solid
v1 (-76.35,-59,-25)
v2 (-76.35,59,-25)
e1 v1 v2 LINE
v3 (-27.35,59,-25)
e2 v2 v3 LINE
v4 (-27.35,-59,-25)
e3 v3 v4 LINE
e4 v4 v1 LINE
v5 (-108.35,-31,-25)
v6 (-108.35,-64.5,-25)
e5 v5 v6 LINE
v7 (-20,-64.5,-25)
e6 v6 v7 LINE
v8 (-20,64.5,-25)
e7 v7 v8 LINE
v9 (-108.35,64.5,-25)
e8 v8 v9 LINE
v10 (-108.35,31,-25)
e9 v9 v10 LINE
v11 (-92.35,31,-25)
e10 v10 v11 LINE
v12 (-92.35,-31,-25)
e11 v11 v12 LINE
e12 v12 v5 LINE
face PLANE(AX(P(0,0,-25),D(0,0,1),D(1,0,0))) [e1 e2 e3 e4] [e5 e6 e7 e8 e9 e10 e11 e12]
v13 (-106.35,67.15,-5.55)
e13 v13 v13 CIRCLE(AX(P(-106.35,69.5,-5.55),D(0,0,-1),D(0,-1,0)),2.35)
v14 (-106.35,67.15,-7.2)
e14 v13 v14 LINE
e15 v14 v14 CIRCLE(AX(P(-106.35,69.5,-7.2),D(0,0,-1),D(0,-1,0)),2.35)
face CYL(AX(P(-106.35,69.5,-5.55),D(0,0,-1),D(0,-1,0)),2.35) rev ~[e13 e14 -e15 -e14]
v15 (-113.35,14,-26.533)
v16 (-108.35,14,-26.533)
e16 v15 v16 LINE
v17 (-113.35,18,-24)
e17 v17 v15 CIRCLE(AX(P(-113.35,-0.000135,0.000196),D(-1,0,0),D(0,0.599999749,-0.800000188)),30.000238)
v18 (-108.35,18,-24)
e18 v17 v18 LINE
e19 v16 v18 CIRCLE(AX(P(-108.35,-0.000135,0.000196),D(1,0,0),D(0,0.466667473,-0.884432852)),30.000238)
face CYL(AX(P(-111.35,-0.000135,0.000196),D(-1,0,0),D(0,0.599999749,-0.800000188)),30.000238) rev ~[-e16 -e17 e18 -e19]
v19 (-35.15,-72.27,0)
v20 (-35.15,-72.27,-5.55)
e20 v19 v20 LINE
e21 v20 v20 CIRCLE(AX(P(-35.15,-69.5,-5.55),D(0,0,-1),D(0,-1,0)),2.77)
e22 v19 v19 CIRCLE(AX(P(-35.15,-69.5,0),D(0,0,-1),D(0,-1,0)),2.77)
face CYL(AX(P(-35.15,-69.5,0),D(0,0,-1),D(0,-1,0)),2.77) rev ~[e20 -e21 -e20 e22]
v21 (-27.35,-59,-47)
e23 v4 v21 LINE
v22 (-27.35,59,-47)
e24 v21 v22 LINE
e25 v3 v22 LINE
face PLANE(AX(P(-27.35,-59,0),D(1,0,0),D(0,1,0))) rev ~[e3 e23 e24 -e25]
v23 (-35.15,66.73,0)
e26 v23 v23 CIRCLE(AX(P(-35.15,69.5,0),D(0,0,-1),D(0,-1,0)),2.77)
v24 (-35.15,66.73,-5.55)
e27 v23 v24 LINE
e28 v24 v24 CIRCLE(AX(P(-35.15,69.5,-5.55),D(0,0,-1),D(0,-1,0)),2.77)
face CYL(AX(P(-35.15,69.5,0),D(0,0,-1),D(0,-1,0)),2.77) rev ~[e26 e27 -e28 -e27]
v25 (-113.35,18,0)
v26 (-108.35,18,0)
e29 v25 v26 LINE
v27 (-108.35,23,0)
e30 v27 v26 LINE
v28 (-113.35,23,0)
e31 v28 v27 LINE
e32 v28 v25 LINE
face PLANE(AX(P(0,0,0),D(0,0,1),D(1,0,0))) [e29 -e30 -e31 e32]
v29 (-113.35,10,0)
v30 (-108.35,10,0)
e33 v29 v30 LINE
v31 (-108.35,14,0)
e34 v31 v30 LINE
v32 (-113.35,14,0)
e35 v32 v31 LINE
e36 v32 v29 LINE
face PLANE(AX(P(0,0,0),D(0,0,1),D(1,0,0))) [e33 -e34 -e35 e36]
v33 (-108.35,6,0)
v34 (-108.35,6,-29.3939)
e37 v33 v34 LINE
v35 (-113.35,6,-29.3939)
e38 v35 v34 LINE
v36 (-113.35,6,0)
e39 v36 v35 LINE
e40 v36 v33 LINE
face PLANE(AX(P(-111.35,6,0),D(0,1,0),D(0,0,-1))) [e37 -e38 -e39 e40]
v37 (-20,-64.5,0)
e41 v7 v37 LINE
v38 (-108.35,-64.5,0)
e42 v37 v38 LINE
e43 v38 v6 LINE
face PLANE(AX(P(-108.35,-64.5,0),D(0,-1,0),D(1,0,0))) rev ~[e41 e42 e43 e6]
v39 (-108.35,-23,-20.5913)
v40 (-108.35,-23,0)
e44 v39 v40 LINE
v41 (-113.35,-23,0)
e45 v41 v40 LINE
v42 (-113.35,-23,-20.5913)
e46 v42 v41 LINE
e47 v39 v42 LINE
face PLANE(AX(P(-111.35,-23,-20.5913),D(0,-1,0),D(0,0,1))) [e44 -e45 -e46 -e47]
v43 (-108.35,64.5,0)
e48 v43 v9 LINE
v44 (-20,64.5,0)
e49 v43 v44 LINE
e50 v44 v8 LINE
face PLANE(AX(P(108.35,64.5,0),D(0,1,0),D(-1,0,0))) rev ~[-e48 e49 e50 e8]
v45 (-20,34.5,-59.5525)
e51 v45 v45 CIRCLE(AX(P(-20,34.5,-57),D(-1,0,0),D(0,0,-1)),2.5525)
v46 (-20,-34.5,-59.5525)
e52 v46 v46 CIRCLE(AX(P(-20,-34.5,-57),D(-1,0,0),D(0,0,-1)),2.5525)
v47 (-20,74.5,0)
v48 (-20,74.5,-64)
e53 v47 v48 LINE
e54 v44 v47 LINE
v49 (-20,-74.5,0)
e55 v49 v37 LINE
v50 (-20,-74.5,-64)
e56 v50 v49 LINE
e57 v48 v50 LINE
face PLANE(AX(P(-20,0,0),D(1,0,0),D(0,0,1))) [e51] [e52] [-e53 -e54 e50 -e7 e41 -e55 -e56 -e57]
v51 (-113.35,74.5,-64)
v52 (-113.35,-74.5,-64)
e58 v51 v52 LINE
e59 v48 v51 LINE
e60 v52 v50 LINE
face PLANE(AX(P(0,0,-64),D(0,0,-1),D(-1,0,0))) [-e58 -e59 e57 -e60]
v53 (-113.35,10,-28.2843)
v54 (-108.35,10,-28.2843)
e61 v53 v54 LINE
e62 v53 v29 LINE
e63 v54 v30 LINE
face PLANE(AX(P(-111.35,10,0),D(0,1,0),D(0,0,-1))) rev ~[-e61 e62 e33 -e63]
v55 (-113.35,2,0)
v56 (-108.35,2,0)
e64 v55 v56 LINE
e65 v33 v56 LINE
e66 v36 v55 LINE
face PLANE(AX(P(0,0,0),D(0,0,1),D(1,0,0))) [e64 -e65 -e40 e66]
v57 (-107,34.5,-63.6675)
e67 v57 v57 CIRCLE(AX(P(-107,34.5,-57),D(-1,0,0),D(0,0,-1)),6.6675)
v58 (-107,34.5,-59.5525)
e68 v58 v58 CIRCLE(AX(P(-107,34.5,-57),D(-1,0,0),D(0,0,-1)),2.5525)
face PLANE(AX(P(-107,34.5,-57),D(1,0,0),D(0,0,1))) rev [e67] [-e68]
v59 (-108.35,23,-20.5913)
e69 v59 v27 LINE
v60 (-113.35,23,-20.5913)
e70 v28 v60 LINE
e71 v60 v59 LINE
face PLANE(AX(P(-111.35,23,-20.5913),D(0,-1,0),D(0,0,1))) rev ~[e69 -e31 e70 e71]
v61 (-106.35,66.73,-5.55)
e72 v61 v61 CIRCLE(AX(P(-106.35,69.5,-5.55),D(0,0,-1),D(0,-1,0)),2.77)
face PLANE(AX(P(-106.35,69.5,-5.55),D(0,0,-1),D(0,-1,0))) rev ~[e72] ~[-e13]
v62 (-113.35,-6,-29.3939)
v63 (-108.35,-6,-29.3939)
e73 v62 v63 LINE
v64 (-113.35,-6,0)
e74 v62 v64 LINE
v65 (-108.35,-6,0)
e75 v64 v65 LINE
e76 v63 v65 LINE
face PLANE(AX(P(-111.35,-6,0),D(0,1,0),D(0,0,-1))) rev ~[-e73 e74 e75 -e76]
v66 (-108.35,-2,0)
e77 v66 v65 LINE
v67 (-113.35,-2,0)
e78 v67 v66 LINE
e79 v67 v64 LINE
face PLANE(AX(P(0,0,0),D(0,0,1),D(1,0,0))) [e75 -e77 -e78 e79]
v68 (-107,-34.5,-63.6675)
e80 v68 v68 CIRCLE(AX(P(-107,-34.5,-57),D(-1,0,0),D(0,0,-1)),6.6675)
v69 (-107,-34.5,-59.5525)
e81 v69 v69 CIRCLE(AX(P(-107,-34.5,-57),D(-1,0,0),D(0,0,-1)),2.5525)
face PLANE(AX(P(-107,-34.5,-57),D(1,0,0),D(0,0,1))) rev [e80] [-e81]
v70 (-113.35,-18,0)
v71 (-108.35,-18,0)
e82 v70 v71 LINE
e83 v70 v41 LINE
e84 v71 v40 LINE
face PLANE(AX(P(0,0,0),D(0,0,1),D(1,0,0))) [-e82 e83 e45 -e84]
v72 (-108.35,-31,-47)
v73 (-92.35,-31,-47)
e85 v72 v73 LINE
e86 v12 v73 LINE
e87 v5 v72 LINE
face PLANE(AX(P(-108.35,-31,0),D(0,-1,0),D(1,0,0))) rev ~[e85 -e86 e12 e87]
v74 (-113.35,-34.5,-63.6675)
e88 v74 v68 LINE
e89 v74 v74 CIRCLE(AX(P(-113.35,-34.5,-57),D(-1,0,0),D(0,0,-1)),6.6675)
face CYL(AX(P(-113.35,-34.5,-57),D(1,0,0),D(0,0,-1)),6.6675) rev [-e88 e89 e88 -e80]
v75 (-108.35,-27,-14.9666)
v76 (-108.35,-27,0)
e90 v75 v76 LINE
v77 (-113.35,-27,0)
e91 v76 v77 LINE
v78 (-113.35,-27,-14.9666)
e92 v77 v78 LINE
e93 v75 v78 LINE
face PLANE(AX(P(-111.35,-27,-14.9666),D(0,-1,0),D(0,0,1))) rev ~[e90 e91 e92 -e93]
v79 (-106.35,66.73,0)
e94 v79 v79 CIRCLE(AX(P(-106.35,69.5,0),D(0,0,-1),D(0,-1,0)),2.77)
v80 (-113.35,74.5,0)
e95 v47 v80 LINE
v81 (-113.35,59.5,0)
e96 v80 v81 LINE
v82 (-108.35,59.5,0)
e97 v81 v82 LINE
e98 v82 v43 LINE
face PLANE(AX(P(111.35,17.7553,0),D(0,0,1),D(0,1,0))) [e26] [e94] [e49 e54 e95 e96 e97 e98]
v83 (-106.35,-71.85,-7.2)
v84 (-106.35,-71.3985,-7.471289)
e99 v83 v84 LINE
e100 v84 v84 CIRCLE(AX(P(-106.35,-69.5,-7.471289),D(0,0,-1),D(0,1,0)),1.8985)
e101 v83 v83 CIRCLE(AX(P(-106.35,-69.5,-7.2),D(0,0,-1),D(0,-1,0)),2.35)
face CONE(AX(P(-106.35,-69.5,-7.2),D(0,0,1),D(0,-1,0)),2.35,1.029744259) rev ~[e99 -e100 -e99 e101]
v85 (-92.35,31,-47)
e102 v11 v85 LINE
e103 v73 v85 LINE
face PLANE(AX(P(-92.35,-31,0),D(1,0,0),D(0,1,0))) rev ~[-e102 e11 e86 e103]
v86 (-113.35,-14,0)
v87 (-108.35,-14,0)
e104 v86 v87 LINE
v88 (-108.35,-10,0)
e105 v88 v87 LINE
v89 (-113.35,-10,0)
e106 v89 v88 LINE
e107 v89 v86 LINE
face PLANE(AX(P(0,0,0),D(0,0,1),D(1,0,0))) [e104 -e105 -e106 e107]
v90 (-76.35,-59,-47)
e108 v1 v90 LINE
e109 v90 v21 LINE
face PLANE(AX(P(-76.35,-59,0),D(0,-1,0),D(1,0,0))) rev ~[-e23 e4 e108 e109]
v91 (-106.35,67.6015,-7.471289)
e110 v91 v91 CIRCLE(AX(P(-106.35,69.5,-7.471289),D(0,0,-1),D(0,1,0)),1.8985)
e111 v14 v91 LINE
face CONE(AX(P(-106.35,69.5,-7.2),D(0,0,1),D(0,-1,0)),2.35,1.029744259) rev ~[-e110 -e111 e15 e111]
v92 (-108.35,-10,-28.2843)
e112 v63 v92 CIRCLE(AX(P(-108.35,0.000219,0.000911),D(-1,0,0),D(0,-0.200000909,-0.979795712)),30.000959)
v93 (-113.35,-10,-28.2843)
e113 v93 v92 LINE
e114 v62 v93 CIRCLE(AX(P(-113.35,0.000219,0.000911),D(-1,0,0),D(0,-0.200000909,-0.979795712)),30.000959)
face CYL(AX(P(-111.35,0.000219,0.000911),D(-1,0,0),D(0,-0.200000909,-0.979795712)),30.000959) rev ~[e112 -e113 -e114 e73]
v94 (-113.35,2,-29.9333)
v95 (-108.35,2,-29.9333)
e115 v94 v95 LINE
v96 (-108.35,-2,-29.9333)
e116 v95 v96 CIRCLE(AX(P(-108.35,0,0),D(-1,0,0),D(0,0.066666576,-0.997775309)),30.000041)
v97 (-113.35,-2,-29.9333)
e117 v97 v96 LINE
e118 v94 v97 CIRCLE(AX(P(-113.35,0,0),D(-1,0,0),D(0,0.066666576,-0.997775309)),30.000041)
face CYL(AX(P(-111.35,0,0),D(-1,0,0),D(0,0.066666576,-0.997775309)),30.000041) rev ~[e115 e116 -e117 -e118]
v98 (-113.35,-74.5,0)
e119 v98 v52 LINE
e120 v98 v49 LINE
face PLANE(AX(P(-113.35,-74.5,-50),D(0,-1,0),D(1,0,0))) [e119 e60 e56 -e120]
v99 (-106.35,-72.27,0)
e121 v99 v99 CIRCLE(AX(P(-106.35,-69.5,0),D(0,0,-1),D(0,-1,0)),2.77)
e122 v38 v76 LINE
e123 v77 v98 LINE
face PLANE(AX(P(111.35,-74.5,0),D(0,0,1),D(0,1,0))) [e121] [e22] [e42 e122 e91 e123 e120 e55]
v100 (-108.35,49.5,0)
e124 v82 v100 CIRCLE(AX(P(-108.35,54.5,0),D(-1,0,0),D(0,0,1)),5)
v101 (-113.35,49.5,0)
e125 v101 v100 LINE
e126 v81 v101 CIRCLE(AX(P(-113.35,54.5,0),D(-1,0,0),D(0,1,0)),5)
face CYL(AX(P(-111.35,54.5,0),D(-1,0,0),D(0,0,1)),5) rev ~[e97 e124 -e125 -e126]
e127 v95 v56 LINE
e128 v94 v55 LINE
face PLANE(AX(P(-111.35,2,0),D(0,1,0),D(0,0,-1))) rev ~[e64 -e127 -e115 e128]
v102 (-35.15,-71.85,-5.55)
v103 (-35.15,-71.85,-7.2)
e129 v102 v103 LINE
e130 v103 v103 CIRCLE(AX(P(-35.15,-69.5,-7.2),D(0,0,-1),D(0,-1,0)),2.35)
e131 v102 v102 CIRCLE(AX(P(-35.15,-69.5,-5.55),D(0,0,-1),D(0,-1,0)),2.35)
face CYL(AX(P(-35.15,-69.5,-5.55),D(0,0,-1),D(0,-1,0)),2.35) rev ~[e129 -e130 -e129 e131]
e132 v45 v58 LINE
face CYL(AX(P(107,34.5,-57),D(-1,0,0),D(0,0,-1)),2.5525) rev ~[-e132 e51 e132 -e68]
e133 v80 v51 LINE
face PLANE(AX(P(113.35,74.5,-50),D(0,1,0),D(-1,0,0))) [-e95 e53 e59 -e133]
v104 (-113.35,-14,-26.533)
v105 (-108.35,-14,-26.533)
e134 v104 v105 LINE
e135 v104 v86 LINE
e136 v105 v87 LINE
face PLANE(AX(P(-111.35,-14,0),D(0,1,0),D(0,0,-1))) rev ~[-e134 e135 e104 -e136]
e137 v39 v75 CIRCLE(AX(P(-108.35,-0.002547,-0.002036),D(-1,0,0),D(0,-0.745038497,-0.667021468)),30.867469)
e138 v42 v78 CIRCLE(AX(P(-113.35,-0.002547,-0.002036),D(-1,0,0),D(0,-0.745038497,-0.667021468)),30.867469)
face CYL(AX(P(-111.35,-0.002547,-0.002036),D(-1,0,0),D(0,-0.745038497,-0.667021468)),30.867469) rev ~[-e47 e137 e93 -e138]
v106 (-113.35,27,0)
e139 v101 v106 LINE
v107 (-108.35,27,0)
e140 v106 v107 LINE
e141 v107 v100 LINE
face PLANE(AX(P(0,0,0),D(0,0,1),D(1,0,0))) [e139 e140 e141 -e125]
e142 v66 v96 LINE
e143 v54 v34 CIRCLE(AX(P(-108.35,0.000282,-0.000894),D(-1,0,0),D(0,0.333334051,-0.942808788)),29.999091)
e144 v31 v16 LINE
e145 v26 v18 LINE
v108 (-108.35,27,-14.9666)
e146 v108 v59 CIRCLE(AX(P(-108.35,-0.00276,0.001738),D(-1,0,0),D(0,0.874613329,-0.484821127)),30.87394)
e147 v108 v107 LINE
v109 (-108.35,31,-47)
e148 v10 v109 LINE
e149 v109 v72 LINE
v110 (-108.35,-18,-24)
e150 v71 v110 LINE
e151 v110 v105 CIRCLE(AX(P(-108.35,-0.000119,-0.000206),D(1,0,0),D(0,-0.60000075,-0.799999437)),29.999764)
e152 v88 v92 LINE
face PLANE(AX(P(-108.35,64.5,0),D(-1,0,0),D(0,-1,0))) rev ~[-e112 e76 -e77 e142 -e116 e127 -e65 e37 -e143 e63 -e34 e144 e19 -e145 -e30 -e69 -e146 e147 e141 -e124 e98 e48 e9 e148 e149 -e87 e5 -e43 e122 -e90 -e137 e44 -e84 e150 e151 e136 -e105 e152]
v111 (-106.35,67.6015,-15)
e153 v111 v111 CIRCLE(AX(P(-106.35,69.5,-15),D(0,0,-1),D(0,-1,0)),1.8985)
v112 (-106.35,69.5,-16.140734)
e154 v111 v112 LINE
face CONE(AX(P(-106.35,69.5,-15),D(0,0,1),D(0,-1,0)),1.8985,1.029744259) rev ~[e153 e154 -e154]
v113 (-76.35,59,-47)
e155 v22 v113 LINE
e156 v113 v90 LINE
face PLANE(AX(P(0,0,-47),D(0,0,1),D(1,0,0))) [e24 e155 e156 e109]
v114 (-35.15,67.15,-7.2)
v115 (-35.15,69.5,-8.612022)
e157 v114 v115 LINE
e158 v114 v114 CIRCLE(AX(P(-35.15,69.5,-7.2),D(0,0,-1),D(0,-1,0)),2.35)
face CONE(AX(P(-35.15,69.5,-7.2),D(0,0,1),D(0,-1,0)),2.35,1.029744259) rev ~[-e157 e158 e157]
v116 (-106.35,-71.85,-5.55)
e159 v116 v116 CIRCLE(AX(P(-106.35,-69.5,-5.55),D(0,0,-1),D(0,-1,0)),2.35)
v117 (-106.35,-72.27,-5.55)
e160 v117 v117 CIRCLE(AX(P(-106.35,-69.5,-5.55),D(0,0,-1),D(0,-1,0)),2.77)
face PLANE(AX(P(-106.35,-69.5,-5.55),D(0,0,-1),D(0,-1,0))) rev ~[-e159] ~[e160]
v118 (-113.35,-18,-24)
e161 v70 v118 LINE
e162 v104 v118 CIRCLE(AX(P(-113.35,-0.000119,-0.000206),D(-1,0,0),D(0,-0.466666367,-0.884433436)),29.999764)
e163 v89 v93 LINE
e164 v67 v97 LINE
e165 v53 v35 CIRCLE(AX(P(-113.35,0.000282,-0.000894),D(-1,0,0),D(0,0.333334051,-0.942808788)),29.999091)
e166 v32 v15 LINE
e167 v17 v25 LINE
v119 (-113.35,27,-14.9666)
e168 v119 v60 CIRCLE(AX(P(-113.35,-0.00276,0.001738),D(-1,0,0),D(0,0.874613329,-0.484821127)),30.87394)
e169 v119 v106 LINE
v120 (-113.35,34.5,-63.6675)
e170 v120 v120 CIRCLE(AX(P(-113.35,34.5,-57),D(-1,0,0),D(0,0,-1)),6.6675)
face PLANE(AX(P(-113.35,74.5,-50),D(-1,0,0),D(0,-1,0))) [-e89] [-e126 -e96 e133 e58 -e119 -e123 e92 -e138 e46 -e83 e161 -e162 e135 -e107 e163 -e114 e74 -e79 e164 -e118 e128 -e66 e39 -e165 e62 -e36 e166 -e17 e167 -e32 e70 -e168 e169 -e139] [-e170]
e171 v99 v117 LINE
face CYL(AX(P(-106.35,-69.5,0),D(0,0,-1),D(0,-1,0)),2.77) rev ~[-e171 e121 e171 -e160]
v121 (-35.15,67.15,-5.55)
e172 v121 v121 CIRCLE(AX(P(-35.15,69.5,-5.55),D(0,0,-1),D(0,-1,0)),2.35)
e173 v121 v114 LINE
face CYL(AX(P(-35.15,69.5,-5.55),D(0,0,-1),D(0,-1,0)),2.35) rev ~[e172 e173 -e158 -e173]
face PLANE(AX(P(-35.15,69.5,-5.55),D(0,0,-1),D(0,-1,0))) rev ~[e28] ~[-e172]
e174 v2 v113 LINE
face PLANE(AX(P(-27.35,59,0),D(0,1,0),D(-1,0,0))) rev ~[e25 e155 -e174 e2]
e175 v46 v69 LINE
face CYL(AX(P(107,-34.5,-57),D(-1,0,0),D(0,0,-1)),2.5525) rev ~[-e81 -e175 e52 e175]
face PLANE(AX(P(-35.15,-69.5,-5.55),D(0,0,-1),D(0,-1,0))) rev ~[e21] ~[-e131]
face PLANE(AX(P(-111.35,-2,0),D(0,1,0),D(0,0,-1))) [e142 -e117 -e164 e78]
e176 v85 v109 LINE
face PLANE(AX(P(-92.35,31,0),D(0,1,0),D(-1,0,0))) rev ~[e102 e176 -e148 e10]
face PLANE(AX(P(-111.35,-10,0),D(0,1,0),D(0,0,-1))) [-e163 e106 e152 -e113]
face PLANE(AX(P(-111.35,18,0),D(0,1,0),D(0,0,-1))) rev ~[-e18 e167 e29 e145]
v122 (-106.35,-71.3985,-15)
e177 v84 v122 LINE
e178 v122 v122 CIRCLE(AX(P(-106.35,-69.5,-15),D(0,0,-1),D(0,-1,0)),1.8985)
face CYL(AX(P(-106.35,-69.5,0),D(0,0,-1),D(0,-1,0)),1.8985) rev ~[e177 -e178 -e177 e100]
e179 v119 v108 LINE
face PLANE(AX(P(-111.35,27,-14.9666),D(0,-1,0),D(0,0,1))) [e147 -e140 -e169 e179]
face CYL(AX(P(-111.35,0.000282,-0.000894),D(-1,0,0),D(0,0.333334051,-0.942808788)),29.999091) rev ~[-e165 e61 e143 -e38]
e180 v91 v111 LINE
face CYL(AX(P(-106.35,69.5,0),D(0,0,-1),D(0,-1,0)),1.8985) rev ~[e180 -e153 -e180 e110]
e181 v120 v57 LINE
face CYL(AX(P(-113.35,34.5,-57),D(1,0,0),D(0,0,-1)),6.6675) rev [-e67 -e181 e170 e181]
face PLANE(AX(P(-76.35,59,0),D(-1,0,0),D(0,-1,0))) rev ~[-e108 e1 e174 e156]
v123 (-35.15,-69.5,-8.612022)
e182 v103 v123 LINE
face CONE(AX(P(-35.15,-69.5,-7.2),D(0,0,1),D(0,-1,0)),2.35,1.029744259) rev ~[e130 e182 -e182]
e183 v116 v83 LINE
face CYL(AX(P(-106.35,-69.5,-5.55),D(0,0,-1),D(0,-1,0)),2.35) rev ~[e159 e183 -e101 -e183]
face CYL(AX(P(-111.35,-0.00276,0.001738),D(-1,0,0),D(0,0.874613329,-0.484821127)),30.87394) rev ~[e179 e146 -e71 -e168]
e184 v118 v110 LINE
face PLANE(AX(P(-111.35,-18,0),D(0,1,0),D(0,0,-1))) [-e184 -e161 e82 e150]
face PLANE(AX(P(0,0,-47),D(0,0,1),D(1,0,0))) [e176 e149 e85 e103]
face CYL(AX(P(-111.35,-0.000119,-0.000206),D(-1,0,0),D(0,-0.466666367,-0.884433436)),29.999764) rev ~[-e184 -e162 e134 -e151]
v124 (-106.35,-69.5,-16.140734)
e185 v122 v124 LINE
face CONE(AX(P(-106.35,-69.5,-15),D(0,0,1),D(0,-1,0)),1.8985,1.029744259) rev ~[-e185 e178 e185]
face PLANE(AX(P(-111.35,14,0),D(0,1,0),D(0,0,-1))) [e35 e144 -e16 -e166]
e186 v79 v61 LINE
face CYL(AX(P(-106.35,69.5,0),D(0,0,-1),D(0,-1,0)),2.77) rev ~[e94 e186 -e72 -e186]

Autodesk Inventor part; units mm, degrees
ref_plane "XZ Plane" through (0, 0, 0) normal (0, 1, 0) x (-1, 0, 0)
ref_plane "XY Plane" through (0, 0, 0) normal (0, 0, 1) x (1, 0, 0)
sketch "Sketch1" plane through (0, 0, 0) normal (0, 0, 1) x (1, 0, 0)
  line L0 (-111.35, -74.5) -> (111.35, -74.5)
  line L1 (111.35, -74.5) -> (111.35, 74.5)
  line L2 (111.35, 74.5) -> (-111.35, 74.5)
  line L3 (-111.35, 74.5) -> (-111.35, -74.5)
  line L4 (-111.35, -74.5) -> (111.35, 74.5) construction
  line L5 (111.35, -74.5) -> (-111.35, 74.5) construction
  point P0 (0, 0)
  dimension "d0" = 222.7
  dimension "d1" = 149
extrude "MainInnerBodyExtrusion" add sketch "Sketch1" against normal blind 50
sketch "Sketch3" plane through (0, 0, 0) normal (0, 0, 1) x (1, 0, 0)
  line L0 (36.65, -27) -> (95.65, -27)
  line L1 (95.65, -27) -> (95.65, 27)
  line L2 (95.65, 27) -> (36.65, 27)
  line L3 (36.65, 27) -> (36.65, -27)
  line L4 (36.65, -27) -> (95.65, 27) construction
  line L5 (95.65, -27) -> (36.65, 27) construction
  line L6 (111.35, -74.5) -> (111.35, 74.5) projected
  line L7 (0, 0) -> (111.35, 0) construction
  line L8 (-111.35, -74.5) -> (-111.35, 74.5) construction
  line L9 (-111.35, 74.5) -> (-111.35, -74.5) projected
  point P0 (66.15, 0)
  point P1 (66.15, 0)
  dimension "d5" = 15.7
  dimension "d6" = 54
  dimension "d7" = 59
extrude "HoleForCamerabase" cut sketch "Sketch3" against normal blind 47
sketch "Sketch4" plane through (0, 0, 0) normal (0, 0, 1) x (1, 0, 0)
  line L0 (0, 0) -> (-111.35, 0) construction
  line L1 (-111.35, -74.5) -> (-111.35, 74.5) construction
  line L2 (-108.35, -31) -> (-92.35, -31)
  line L3 (-92.35, -31) -> (-92.35, 31)
  line L4 (-92.35, 31) -> (-108.35, 31)
  line L5 (-108.35, 31) -> (-108.35, -31)
  line L6 (-108.35, -31) -> (-92.35, 31) construction
  line L7 (-92.35, -31) -> (-108.35, 31) construction
  point P0 (-100.35, 0)
  dimension "d13" = 16
  dimension "d14" = 62
  dimension "d15" = 3
extrude "HoleForFan" cut sketch "Sketch4" against normal blind 47
sketch "Sketch6" plane through (0, 0, 0) normal (0, 0, 1) x (1, 0, 0)
  line L0 (-111.35, -74.5) -> (-111.35, 74.5) construction
  line L1 (-111.35, 0) -> (111.35, 0) construction
  line L2 (111.35, 74.5) -> (111.35, -74.5) construction
  line L3 (-11.35, -64.5) -> (20.65, -64.5)
  line L4 (20.65, -64.5) -> (20.65, 64.5)
  line L5 (20.65, 64.5) -> (-11.35, 64.5)
  line L6 (-11.35, 64.5) -> (-11.35, -64.5)
  line L7 (-11.35, -64.5) -> (20.65, 64.5) construction
  line L8 (20.65, -64.5) -> (-11.35, 64.5) construction
  line L9 (36.65, -27) -> (36.65, 27) projected
  point P0 (0, 0)
  point P1 (4.65, 0)
  dimension "d20" = 32
  dimension "d21" = 129
  dimension "d88" = 16
extrude "HoleForPi" cut sketch "Sketch6" against normal blind 47
sketch "Sketch7" plane through (0, 0, 0) normal (0, 0, 1) x (1, 0, 0)
  line L0 (0, 0) -> (-111.35, 0) construction
  line L1 (-111.35, 74.5) -> (-111.35, -74.5) construction
  line L2 (-76.35, -59) -> (-27.35, -59)
  line L3 (-27.35, -59) -> (-27.35, 59)
  line L4 (-27.35, 59) -> (-76.35, 59)
  line L5 (-76.35, 59) -> (-76.35, -59)
  line L6 (-76.35, -59) -> (-27.35, 59) construction
  line L7 (-27.35, -59) -> (-76.35, 59) construction
  line L8 (-11.35, -64.5) -> (-11.35, 64.5) projected
  line L9 (-92.35, 31) -> (-92.35, -31) construction
  point P0 (-51.85, 0)
  dimension "d25" = 16
  dimension "d26" = 49
  dimension "d27" = 118
extrude "HoleForPoeAdapter" cut sketch "Sketch7" against normal blind 47
sketch "Sketch10" plane through (0, 0, 0) normal (0, 0, 1) x (1, 0, 0)
  line L0 (39.35, 36.5) -> (108.35, 36.5)
  line L1 (108.35, 36.5) -> (108.35, 64.5)
  line L2 (108.35, 64.5) -> (39.35, 64.5)
  line L3 (39.35, 64.5) -> (39.35, 36.5)
  line L4 (39.35, 36.5) -> (108.35, 64.5) construction
  line L5 (108.35, 36.5) -> (39.35, 64.5) construction
  line L6 (111.35, 74.5) -> (-111.35, 74.5) projected
  line L7 (111.35, -74.5) -> (111.35, 74.5) projected
  point P0 (0, 0)
  point P1 (73.85, 50.5)
  point P2 (94.85, 8.5)
  point P3 (108.35, 50.5)
  dimension "d36" = 69
  dimension "d37" = 28
  dimension "d85" = 3
extrude "HoleForThermister" cut sketch "Sketch10" against normal blind 47
sketch "Sketch11" plane through (0, 0, 0) normal (0, 0, 1) x (1, 0, 0)
  line L0 (58.35, -64.5) -> (108.35, -64.5)
  line L1 (108.35, -64.5) -> (108.35, -47.5)
  line L2 (108.35, -47.5) -> (58.35, -47.5)
  line L3 (58.35, -47.5) -> (58.35, -64.5)
  line L4 (58.35, -64.5) -> (108.35, -47.5) construction
  line L5 (108.35, -64.5) -> (58.35, -47.5) construction
  line L6 (111.35, -74.5) -> (111.35, 74.5) projected
  line L7 (-111.35, -74.5) -> (111.35, -74.5) projected
  line L8 (95.65, -27) -> (36.65, -27) projected
  line L9 (20.65, 64.5) -> (20.65, -64.5) projected
  point P0 (0, 0)
  point P1 (83.35, -56)
  point P2 (94.85, -8.5)
  point P3 (83.35, -47.5)
  point P4 (58.35, -56)
  point P5 (111.35, 74.5)
  dimension "d42" = 50
  dimension "d43" = 17
  dimension "d86" = 3
  dimension "d87" = 10
extrude "HoleForSensor" cut sketch "Sketch11" against normal blind 31.5
sketch "Sketch15" plane through (-111.35, -74.5, 0) normal (-1, 0, 0) x (0, 0, 1)
  line L0 (0, 149) -> (0, 0) projected
  line L1 (0, 149) -> (-50, 149) projected
  line L2 (-50, 0) -> (-50, 149) projected
  line L3 (0, 0) -> (-50, 0) projected
  line L4 (0, 0) -> (0, 149) projected
  line L5 (0, 101.5) -> (0, 47.5) projected
  line L6 (0, 74.5) -> (-30, 74.5) construction
  line L7 (0, 76.5) -> (-29.9333, 76.5)
  line L8 (0, 84.5) -> (-28.2843, 84.5)
  line L9 (0, 80.5) -> (-29.3939, 80.5)
  line L10 (0, 76.5) -> (0, 74.5)
  line L11 (0, 88.5) -> (-26.533, 88.5)
  line L12 (0, 92.5) -> (-24, 92.5)
  line L13 (-20.5913, 97.5) -> (0, 97.5)
  line L14 (-14.9666, 101.5) -> (0, 101.5)
  line L15 (0, 84.5) -> (0, 80.5)
  line L16 (0, 101.5) -> (0, 97.5)
  line L17 (0, 92.5) -> (0, 88.5)
  line L18 (0, 72.5) -> (-29.9333, 72.5)
  line L19 (0, 64.5) -> (-28.2843, 64.5)
  line L20 (0, 68.5) -> (-29.3939, 68.5)
  line L21 (0, 72.5) -> (0, 74.5)
  line L22 (0, 60.5) -> (-26.533, 60.5)
  line L23 (0, 56.5) -> (-24, 56.5)
  line L24 (-20.5913, 51.5) -> (0, 51.5)
  line L25 (-14.9666, 47.5) -> (0, 47.5)
  line L26 (0, 64.5) -> (0, 68.5)
  line L27 (0, 56.5) -> (0, 60.5)
  line L28 (0, 47.5) -> (0, 51.5)
  line L29 (0, 72.5) -> (0, 76.5)
  line L30 (0, 80.5) -> (0, 84.5)
  line L31 (0, 88.5) -> (0, 92.5)
  line L32 (0, 97.5) -> (0, 149)
  arc A0 (-28.2843, 84.5) -> (-29.3939, 80.5) centre (0, 74.5) ccw
  arc A1 (-14.9666, 101.5) -> (-20.5913, 97.5) centre (0, 74.5) ccw
  arc A2 (-24, 92.5) -> (-26.533, 88.5) centre (0, 74.5) ccw
  arc A3 (-29.9333, 76.5) -> (-29.9333, 72.5) centre (0, 74.5) ccw
  arc A4 (-29.3939, 68.5) -> (-28.2843, 64.5) centre (0, 74.5) ccw
  arc A5 (-26.533, 60.5) -> (-24, 56.5) centre (0, 74.5) ccw
  arc A6 (-20.5913, 51.5) -> (-14.9666, 47.5) centre (0, 74.5) ccw
  point P0 (0, 82)
  point P1 (0, 67.0167)
  point P2 (0, 4.25)
  point P3 (-10.2956, 97.5)
  point P4 (0, 47.5)
  point P5 (0, 51.5)
  point P6 (0, 56.5)
  point P7 (0, 60.5)
  point P8 (0, 64.5)
  point P9 (0, 68.5)
  point P10 (0, 72.5)
  point P11 (0, 80.5)
  point P12 (0, 84.5)
  point P13 (0, 88.5)
  point P14 (0, 92.5)
  point P15 (0, 97.5)
  point P16 (0, 101.5)
  dimension "d69" = 2
  dimension "d71" = 4
  dimension "d72" = 4
  dimension "d73" = 4
  dimension "d75" = 4
  dimension "d142" = 30
extrude "SlotsForRearFan" cut sketch "Sketch15" against normal up to surface (3 mm away) contours L0 L13 A1 L14 | L0 L11 A2 L12 | L25 A6 L24 L0 | L0 L9 A0 L8 | L23 A5 L22 L0 | L0 L18 A3 L7 | L19 A4 L20 L0
sketch "Sketch16" plane through (0, 0, -47) normal (0, 0, 1) x (1, 0, 0)
  line L0 (95.65, 27) -> (95.65, -27) projected
  line L1 (80.15, 10.765) -> (80.15, -11.235) construction
  line L2 (78.65, 10.765) -> (78.65, -11.235)
  line L3 (75.65, -11.235) -> (75.65, 10.765)
  line L4 (72.65, 8.7746) -> (72.65, -9.2446)
  line L5 (69.65, 3.5785) -> (69.65, -4.0485)
  line L6 (81.65, 10.765) -> (81.65, -11.235)
  line L7 (84.65, -11.235) -> (84.65, 10.765)
  line L8 (87.65, 8.7746) -> (87.65, -9.2446)
  line L9 (90.65, 3.5785) -> (90.65, -4.0485)
  line L10 (73.7991, 10.765) -> (75.65, 10.765)
  line L11 (75.65, -11.235) -> (73.7991, -11.235)
  line L12 (73.7991, -11.235) -> (72.65, -9.2446)
  line L13 (69.65, -4.0485) -> (67.4483, -0.235)
  line L14 (67.4483, -0.235) -> (69.65, 3.5785)
  line L15 (72.65, 8.7746) -> (73.7991, 10.765)
  line L16 (78.65, 10.765) -> (81.65, 10.765)
  line L17 (84.65, 10.765) -> (86.5009, 10.765)
  line L18 (86.5009, -11.235) -> (84.65, -11.235)
  line L19 (81.65, -11.235) -> (78.65, -11.235)
  line L20 (92.8517, -0.235) -> (90.65, -4.0485)
  line L21 (87.65, -9.2446) -> (86.5009, -11.235)
  line L22 (86.5009, 10.765) -> (87.65, 8.7746)
  line L23 (90.65, 3.5785) -> (92.8517, -0.235)
  point P0 (0, 0)
  point P1 (80.15, -0.235)
  point P2 (69.65, -0.235)
  dimension "d78" = 15.5
  dimension "d89" = 1.5
  dimension "d90" = 3
  dimension "d91" = 3
  dimension "d92" = 3
extrude "VentForCamera" cut sketch "Sketch16" against normal through all
sketch "Sketch18" plane through (111.35, -74.5, 0) normal (1, 0, 0) x (0, 0, -1)
  line L0 (0, 74.5) -> (29.6767, 74.5) construction
  arc A0 (24, 66.5) -> (24, 82.5) centre (24, 74.5) ccw
  line L1 (0, 0) -> (0, 149) projected
  line L2 (24, 82.5) -> (0, 82.5)
  line L3 (24, 66.5) -> (0, 66.5)
  line L4 (0, 82.5) -> (0, 66.5)
  point P0 (0, 74.5)
  dimension "d97" = 16
  dimension "d137" = 24
extrude "HoleForLens" cut sketch "Sketch18" against normal up to surface (15.7 mm away)
sketch "Sketch23" plane through (0, 0, 0) normal (0, 0, 1) x (1, 0, 0)
  line L0 (-106.35, -69.5) -> (106.35, -69.5) construction
  line L1 (106.35, -69.5) -> (106.35, 69.5) construction
  line L2 (106.35, 69.5) -> (-106.35, 69.5) construction
  line L3 (-106.35, 69.5) -> (-106.35, -69.5) construction
  line L4 (-106.35, -69.5) -> (106.35, 69.5) construction
  line L5 (106.35, -69.5) -> (-106.35, 69.5) construction
  line L6 (111.35, -74.5) -> (111.35, -8) projected
  line L7 (111.35, 74.5) -> (-111.35, 74.5) projected
  line L8 (-111.35, -27) -> (-111.35, -74.5) projected
  line L9 (-111.35, 74.5) -> (-111.35, 27) projected
  line L10 (111.35, 8) -> (111.35, 74.5) projected
  point P0 (0, 0)
  point P1 (35.15, -69.5)
  point P2 (-35.15, -69.5)
  point P3 (-35.15, 69.5)
  point P4 (35.15, 69.5)
  dimension "d106" = 5
  dimension "d108" = 5
  dimension "d222" = 76.2
  dimension "d223" = 76.2
  dimension "d224" = 76.2
  dimension "d225" = 76.2
hole "Hole for 6-32 Insert" at (-106.35, 69.5, 0) at (106.35, 69.5, 0) at (106.35, -69.5, 0) at (-106.35, -69.5, 0) at (-35.15, -69.5, 0) at (35.15, -69.5, 0) at (-35.15, 69.5, 0) at (35.15, 69.5, 0) direction (0, 0, -1) diameter 4.7 depth 7.2 tip angle 118 counterbore diameter 5.54 counterbore depth 5.55
hole "Screw hole for 6-32 screw" at (-106.35, -69.5, 0) at (106.35, -69.5, 0) at (106.35, 69.5, 0) at (-106.35, 69.5, 0) direction (0, 0, -1) diameter 3.797 depth 15 tip angle 118 clearance for "Hex Machine Screw" size "#6" standard "Ansi Unified Screw Threads"
sketch "Sketch24" plane through (-111.35, -74.5, 0) normal (0, -1, 0) x (1, 0, 0)
  line L0 (0, -50) -> (222.7, -50) construction
  line L1 (222.7, 0) -> (207, 0) construction
  line L2 (0, 0) -> (0, -50) projected
  line L3 (111.3501, -25) -> (0, -25) construction
  line L4 (111.3501, -25) -> (222.7, -24.84) construction
  line L5 (222.7, 0) -> (222.7, -50) construction
  point P0 (111.35, 0)
  dimension "d226" = 25
  dimension "d227" = 111.3501
hole "Side hole for 1-4 20 insert" at (0.0001, -74.5, -25) direction (0, 1, 0) diameter 7.666 depth 9.53 tip angle 118 counterbore diameter 8.406 counterbore depth 7.41 clearance for "Hex Machine Screw" size "1/4" standard "Ansi Unified Screw Threads"
mirror "Mirror for side insert" about plane through (0, 0, 0) normal (0, 1, 0) of "Side hole for 1-4 20 insert"
sketch "Sketch25" plane through (0, 0, 0) normal (0, 0, 1) x (1, 0, 0)
  line L0 (111.35, 74.5) -> (-111.35, 74.5) projected
  line L1 (-111.35, 74.5) -> (-111.35, 27) projected
  line L2 (-111.35, -74.5) -> (111.35, -74.5) projected
  line L3 (81.65, -11.235) -> (78.65, -11.235) projected
  line L4 (78.65, -11.235) -> (78.65, 10.765) projected
  line L5 (78.65, 10.765) -> (81.65, 10.765) projected
  line L6 (81.65, 10.765) -> (81.65, -11.235) projected
  line L7 (73.7991, 10.765) -> (75.65, 10.765) projected
  line L8 (75.65, 10.765) -> (75.65, -11.235) projected
  line L9 (75.65, -11.235) -> (73.7991, -11.235) projected
  line L10 (73.7991, -11.235) -> (72.65, -9.2446) projected
  line L11 (72.65, -9.2446) -> (72.65, 8.7746) projected
  line L12 (72.65, 8.7746) -> (73.7991, 10.765) projected
  line L13 (87.65, 8.7746) -> (87.65, -9.2446) projected
  line L14 (87.65, -9.2446) -> (86.5009, -11.235) projected
  line L15 (86.5009, -11.235) -> (84.65, -11.235) projected
  line L16 (84.65, -11.235) -> (84.65, 10.765) projected
  line L17 (84.65, 10.765) -> (86.5009, 10.765) projected
  line L18 (86.5009, 10.765) -> (87.65, 8.7746) projected
  line L19 (69.65, 3.5785) -> (69.65, -4.0485) projected
  line L20 (69.65, -4.0485) -> (67.4483, -0.235) projected
  line L21 (67.4483, -0.235) -> (69.65, 3.5785) projected
  line L22 (92.8517, -0.235) -> (90.65, -4.0485) projected
  line L23 (90.65, -4.0485) -> (90.65, 3.5785) projected
  line L24 (90.65, 3.5785) -> (92.8517, -0.235) projected
  line L25 (95.65, 27) -> (95.65, -27) projected
  line L26 (36.65, 27) -> (95.65, 27) projected
  line L27 (36.65, -27) -> (36.65, 27) projected
  line L28 (95.65, -27) -> (36.65, -27) projected
  line L29 (111.35, -74.5) -> (111.35, -8) projected
  line L30 (111.35, 8) -> (111.35, 74.5) projected
  line L31 (-108.35, -64.5) -> (108.35, -64.5)
  line L32 (108.35, -64.5) -> (108.35, 64.5)
  line L33 (108.35, 64.5) -> (-108.35, 64.5)
  line L34 (-108.35, 64.5) -> (-108.35, -64.5)
  line L35 (-108.35, -64.5) -> (108.35, 64.5) construction
  line L36 (108.35, -64.5) -> (-108.35, 64.5) construction
  line L37 (-27.35, 59) -> (-27.35, -59) projected
  point P0 (0, 0)
  dimension "d138" = 10
  dimension "d139" = 3
extrude "Extrusion18" cut sketch "Sketch25" against normal blind 25 contours L34 L33 L32 L31
sketch "Sketch26" plane through (-111.35, -74.5, -50) normal (-1, 0, 0) x (0, 0, 1)
  arc A0 (50, 124) -> (50, 134) centre (50, 129) ccw
  circle A1 centre (50, 129) radius 5
  point P0 (50, 74.5)
  point P1 (50, 124)
extrude "Extrusion19" cut sketch "Sketch26" against normal up to surface (3 mm away)
sketch "Sketch30" plane through (111.35, -74.5, -50) normal (1, 0, 0) x (0, 0, -1)
  circle A0 centre (-29, 74.5) radius 27.5
  line L0 (0, 149) -> (0, 0) projected
  circle A1 centre (-29, 74.5) radius 23
  line L1 (-50, 0) -> (-50, 66.5) projected
  point P0 (-50, 74.5)
  dimension "poeLength" = 118
  dimension "d162" = 55
  dimension "d163" = 29
  dimension "d164" = 46
  dimension "d165" = 21
extrude "Extrusion20" cut sketch "Sketch30" against normal blind 1.5
sketch "Sketch35" plane through (111.35, -74.5, -50) normal (1, 0, 0) x (0, 0, -1)
  circle A0 centre (-13, 5) radius 2.4257
  circle A1 centre (-13, 144) radius 2.4257
  line L0 (-50, 0) -> (0, 0) projected
  line L1 (-50, 149) -> (0, 149) projected
  line L2 (-3, 139) -> (-3, 10) projected
  point P0 (-50, 74.5)
  dimension "d215" = 4.8514
  dimension "d216" = 5
  dimension "d217" = 5
  dimension "d218" = 10
  dimension "d219" = 10
extrude "Extrusion21" cut sketch "Sketch35" against normal blind 9.525
sketch "Sketch37" plane through (-111.35, -74.5, -50) normal (-1, 0, 0) x (0, 0, 1)
  arc A0 (50, 134) -> (50, 124) centre (50, 129) ccw projected
  line L0 (50, 149) -> (50, 134) projected
  line L1 (50, 149) -> (0, 149) projected
  line L2 (0, 0) -> (0, 149) projected
  line L3 (50, 0) -> (0, 0) projected
  line L4 (50, 47.5) -> (50, 0) projected
  line L5 (50, 47.5) -> (35.0334, 47.5) projected
  arc A1 (29.4087, 51.5) -> (35.0334, 47.5) centre (50, 74.5) ccw projected
  line L6 (29.4087, 51.5) -> (50, 51.5) projected
  line L7 (50, 56.5) -> (50, 51.5) projected
  line L8 (50, 56.5) -> (26, 56.5) projected
  arc A2 (23.467, 60.5) -> (26, 56.5) centre (50, 74.5) ccw projected
  line L9 (23.467, 60.5) -> (50, 60.5) projected
  line L10 (50, 64.5) -> (50, 60.5) projected
  line L11 (50, 64.5) -> (21.7157, 64.5) projected
  arc A3 (20.6061, 68.5) -> (21.7157, 64.5) centre (50, 74.5) ccw projected
  line L12 (20.6061, 68.5) -> (50, 68.5) projected
  line L13 (50, 72.5) -> (50, 68.5) projected
  line L14 (50, 72.5) -> (20.0667, 72.5) projected
  arc A4 (20.0667, 76.5) -> (20.0667, 72.5) centre (50, 74.5) ccw projected
  line L15 (20.0667, 76.5) -> (50, 76.5) projected
  line L16 (50, 80.5) -> (50, 76.5) projected
  line L17 (50, 80.5) -> (20.6061, 80.5) projected
  arc A5 (21.7157, 84.5) -> (20.6061, 80.5) centre (50, 74.5) ccw projected
  line L18 (21.7157, 84.5) -> (50, 84.5) projected
  line L19 (50, 88.5) -> (50, 84.5) projected
  line L20 (50, 88.5) -> (23.467, 88.5) projected
  arc A6 (26, 92.5) -> (23.467, 88.5) centre (50, 74.5) ccw projected
  line L21 (26, 92.5) -> (50, 92.5) projected
  line L22 (50, 97.5) -> (50, 92.5) projected
  line L23 (50, 97.5) -> (29.4087, 97.5) projected
  arc A7 (35.0334, 101.5) -> (29.4087, 97.5) centre (50, 74.5) ccw projected
  line L24 (35.0334, 101.5) -> (50, 101.5) projected
  line L25 (50, 124) -> (50, 101.5) projected
  line L26 (0, 149) -> (50, 149)
  line L27 (50, 149) -> (50, 0)
  line L28 (50, 0) -> (0, 0)
  line L29 (0, 0) -> (0, 149)
extrude "Extrusion22" add sketch "Sketch37" along normal blind 2 contours A0 L25 L24 A7 L23 L22 L21 A6 L20 L19 L18 A5 L17 L16 L15 A4 L14 L13 L12 A3 L11 L10 L9 A2 L8 L7 L6 A1 L5 L4 L3 L2 L1 L0
sketch "Sketch38" plane through (111.35, -74.5, -50) normal (1, 0, 0) x (0, 0, -1)
  circle A0 centre (-13, 144) radius 2.4257 projected
  circle A1 centre (-13, 5) radius 2.4257 projected
  arc A2 (-50, 56.7447) -> (-50, 92.2553) centre (-29, 74.5) ccw projected
  line L0 (-50, 0) -> (-50, 56.7447) projected
  line L1 (-50, 0) -> (0, 0) projected
  line L2 (0, 149) -> (0, 0) projected
  line L3 (-50, 149) -> (0, 149) projected
  line L4 (-50, 92.2553) -> (-50, 149) projected
  arc A3 (-50, 65.1192) -> (-50, 83.8808) centre (-29, 74.5) ccw projected
  line L5 (-26, 66.5) -> (-50, 66.5) projected
  arc A4 (-26, 66.5) -> (-26, 82.5) centre (-26, 74.5) ccw projected
  line L6 (-50, 82.5) -> (-26, 82.5) projected
  point P0 (-50, 74.5)
extrude "Extrusion23" add sketch "Sketch38" along normal blind 2
sketch "Sketch39" plane through (0, 0, -50) normal (0, 0, -1) x (-1, 0, 0)
  line L0 (-78.65, -11.235) -> (-81.65, -11.235) projected
  line L1 (-81.65, -11.235) -> (-81.65, 10.765) projected
  line L2 (-81.65, 10.765) -> (-78.65, 10.765) projected
  line L3 (-78.65, 10.765) -> (-78.65, -11.235) projected
  line L4 (-75.65, 10.765) -> (-73.7991, 10.765) projected
  line L5 (-73.7991, 10.765) -> (-72.65, 8.7746) projected
  line L6 (-72.65, 8.7746) -> (-72.65, -9.2446) projected
  line L7 (-72.65, -9.2446) -> (-73.7991, -11.235) projected
  line L8 (-73.7991, -11.235) -> (-75.65, -11.235) projected
  line L9 (-75.65, -11.235) -> (-75.65, 10.765) projected
  line L10 (-87.65, -9.2446) -> (-87.65, 8.7746) projected
  line L11 (-87.65, 8.7746) -> (-86.5009, 10.765) projected
  line L12 (-86.5009, 10.765) -> (-84.65, 10.765) projected
  line L13 (-84.65, 10.765) -> (-84.65, -11.235) projected
  line L14 (-84.65, -11.235) -> (-86.5009, -11.235) projected
  line L15 (-86.5009, -11.235) -> (-87.65, -9.2446) projected
  line L16 (-69.65, -4.0485) -> (-69.65, 3.5785) projected
  line L17 (-69.65, 3.5785) -> (-67.4483, -0.235) projected
  line L18 (-67.4483, -0.235) -> (-69.65, -4.0485) projected
  line L19 (-90.65, -4.0485) -> (-92.8517, -0.235) projected
  line L20 (-92.8517, -0.235) -> (-90.65, 3.5785) projected
  line L21 (-90.65, 3.5785) -> (-90.65, -4.0485) projected
  line L22 (113.35, -74.5) -> (-113.35, -74.5) projected
  line L23 (113.35, 74.5) -> (113.35, -74.5) projected
  line L24 (-113.35, 74.5) -> (113.35, 74.5) projected
  line L25 (-113.35, -74.5) -> (-113.35, 74.5) projected
  line L26 (113.35, -74.5) -> (-113.35, -74.5) projected
  line L27 (-113.35, 74.5) -> (113.35, 74.5)
  line L28 (113.35, 74.5) -> (113.35, -74.5)
  line L29 (113.35, -74.5) -> (-113.35, -74.5)
  line L30 (-113.35, -74.5) -> (-113.35, 74.5)
  point P0 (0, 0)
extrude "ExtrusionForBottom" add sketch "Sketch39" along normal blind 14
sketch "Sketch40" plane through (113.35, -74.5, -50) normal (1, 0, 0) x (0, 0, -1)
  line L0 (-50, 0) -> (14, 0) construction
  line L1 (7, 0) -> (7, 149) construction
  line L2 (-50, 149) -> (14, 149) construction
  line L3 (14, 149) -> (14, 0) construction
  point P0 (-50, 74.5)
  point P1 (7, 40)
  point P2 (7, 109)
  dimension "d234" = 7
  dimension "d235" = 40
  dimension "d236" = 40
hole "10-32 holesToBoltFixture" at (113.35, -34.5, -57) at (113.35, 34.5, -57) direction (-1, 0, 0) diameter 5.105 end through all counterbore diameter 13.335 counterbore depth 6.35 clearance for "Hex Machine Screw" size "#10" standard "Ansi Unified Screw Threads"
sketch "Sketch41" plane through (109.85, -74.5, -50) normal (1, 0, 0) x (0, 0, -1)
  arc A0 (-50, 56.7447) -> (-50, 92.2553) centre (-29, 74.5) ccw projected
  arc A1 (-50, 65.1192) -> (-50, 83.8808) centre (-29, 74.5) ccw projected
  line L0 (-50, 149) -> (14, 149) projected
  line L1 (-50, 149) -> (-50, 92.2553) projected
  arc A2 (-50, 56.7447) -> (-50, 92.2553) centre (-29, 74.5) ccw projected
  line L2 (-50, 56.7447) -> (-50, 0) projected
  line L3 (-50, 0) -> (14, 0) projected
  line L4 (14, 149) -> (14, 0) projected
  circle A3 centre (-13, 144) radius 2.4257 projected
  circle A4 centre (-13, 5) radius 2.4257 projected
  arc A5 (-50, 65.1192) -> (-50, 83.8808) centre (-29, 74.5) ccw
  arc A6 (-50, 56.7447) -> (-50, 92.2553) centre (-29, 74.5) ccw
  line L5 (-50, 56.5) -> (-50, 92.2553)
  circle A7 centre (7, 40) radius 6.6675 projected
  circle A8 centre (7, 109) radius 6.6675 projected
  point P0 (-50, 74.5)
extrude "Extrusion25" add sketch "Sketch41" along normal blind 2 contours L5 A1 A0
ref_plane "Work Plane1" through (30, 0, 0) normal (1, 0, 0) x (0, 1, 0)
ref_plane "Work Plane2" through (-20, 0, 0) normal (1, 0, 0) x (0, 1, 0)
mirror "Mirror4" about plane through (0, 0, 0) normal (1, 0, 0) of "10-32 holesToBoltFixture"
split "Split2" plane through (-20, 0, 0) removes the side toward (1, 0, 0)
equation "\"d0\" = newCaseLength"
equation "\"d1\" = caseWidth"
equation "\"d2\" = caseDepth"
equation "\"d5\" = lensLength"
equation "\"d6\" = cameraWidth"
equation "\"d7\" = cameraLength"
equation "\"d8\" = maxComponentDepth"
equation "\"d13\" = fanDepth"
equation "\"d14\" = fanWidth"
equation "\"d15\" = rearWallThickness"
equation "\"d16\" = maxComponentDepth"
equation "\"d20\" = piCaseDepth"
equation "\"d21\" = piCaseLength"
equation "\"d88\" = minDelta"
equation "\"d22\" = maxComponentDepth"
equation "\"d25\" = minDelta"
equation "\"d26\" = poeWidth"
equation "\"d27\" = poeLength"
equation "\"d28\" = maxComponentDepth"
equation "\"d36\" = thermisterLength"
equation "\"d37\" = thermisterWidth"
equation "\"d85\" = frontWallThickness"
equation "\"d38\" = maxComponentDepth"
equation "\"d42\" = sensorLength"
equation "\"d43\" = sensorWidth"
equation "\"d86\" = frontWallThickness"
equation "\"d87\" = outsideWallThickness"
equation "\"d46\" = cutoutDepth"
equation "\"outsideWallThickness\" = 10"
equation "\"caseWidth\" = piCaseLength + 2 * outsideWallThickness"
equation "\"cameraWidth\" = 54"
equation "\"oneHalfCaseDepth\" = piCaseWidth"
equation "\"caseLength\" = 189.7"
equation "\"cameraLength\" = 59"
equation "\"lensLength\" = 15.7"
equation "\"piCaseWidth\" = 63"
equation "\"piCaseDepth\" = 32"
equation "\"poeDepth\" = 38"
equation "\"piEthernetCableReliefLength\" = 35"
equation "\"poeEthernetCableReliefLength\" = 35"
equation "\"thermisterDepth\" = 18"
equation "\"sensorDepth\" = 11"
equation "\"cutoutDepth\" = 0.5 * piCaseWidth"
equation "\"thickenDistance\" = 1"
equation "\"bottomOfCaseWallThickness\" = 3"
equation "\"rearWallThickness\" = 3"
equation "\"maxComponentDepth\" = extraCutoutDepth + 0.5 * piCaseWidth"
equation "\"caseDepth\" = maxComponentDepth + bottomOfCaseWallThickness"
equation "\"minDelta\" = 16"
equation "\"fanCutoutDepth\" = 0.5 * fanLength + extraCutoutDepth + thickenDistance"
equation "\"newCaseLength\" = 222.7"
equation "\"frontWallThickness\" = 3"
equation "\"d95\" = lensDiameter"
equation "\"extraCutoutDepth\" = 15.5"
equation "\"bottomExtrusion\" = 14"
equation "\"fanDepth\" = 16"
equation "\"fanWidth\" = 62"
equation "\"piCaseLength\" = 129"
equation "\"poeWidth\" = 49"
equation "\"thermisterLength\" = 69"
equation "\"thermisterWidth\" = 28"
equation "\"sensorLength\" = 50"
equation "\"sensorWidth\" = 17"
equation "\"fanLength\" = 60"
equation "\"lensDiameter\" = 15"
properties part number "caseLowerPortionBack" material "PC/ABS Plastic"
